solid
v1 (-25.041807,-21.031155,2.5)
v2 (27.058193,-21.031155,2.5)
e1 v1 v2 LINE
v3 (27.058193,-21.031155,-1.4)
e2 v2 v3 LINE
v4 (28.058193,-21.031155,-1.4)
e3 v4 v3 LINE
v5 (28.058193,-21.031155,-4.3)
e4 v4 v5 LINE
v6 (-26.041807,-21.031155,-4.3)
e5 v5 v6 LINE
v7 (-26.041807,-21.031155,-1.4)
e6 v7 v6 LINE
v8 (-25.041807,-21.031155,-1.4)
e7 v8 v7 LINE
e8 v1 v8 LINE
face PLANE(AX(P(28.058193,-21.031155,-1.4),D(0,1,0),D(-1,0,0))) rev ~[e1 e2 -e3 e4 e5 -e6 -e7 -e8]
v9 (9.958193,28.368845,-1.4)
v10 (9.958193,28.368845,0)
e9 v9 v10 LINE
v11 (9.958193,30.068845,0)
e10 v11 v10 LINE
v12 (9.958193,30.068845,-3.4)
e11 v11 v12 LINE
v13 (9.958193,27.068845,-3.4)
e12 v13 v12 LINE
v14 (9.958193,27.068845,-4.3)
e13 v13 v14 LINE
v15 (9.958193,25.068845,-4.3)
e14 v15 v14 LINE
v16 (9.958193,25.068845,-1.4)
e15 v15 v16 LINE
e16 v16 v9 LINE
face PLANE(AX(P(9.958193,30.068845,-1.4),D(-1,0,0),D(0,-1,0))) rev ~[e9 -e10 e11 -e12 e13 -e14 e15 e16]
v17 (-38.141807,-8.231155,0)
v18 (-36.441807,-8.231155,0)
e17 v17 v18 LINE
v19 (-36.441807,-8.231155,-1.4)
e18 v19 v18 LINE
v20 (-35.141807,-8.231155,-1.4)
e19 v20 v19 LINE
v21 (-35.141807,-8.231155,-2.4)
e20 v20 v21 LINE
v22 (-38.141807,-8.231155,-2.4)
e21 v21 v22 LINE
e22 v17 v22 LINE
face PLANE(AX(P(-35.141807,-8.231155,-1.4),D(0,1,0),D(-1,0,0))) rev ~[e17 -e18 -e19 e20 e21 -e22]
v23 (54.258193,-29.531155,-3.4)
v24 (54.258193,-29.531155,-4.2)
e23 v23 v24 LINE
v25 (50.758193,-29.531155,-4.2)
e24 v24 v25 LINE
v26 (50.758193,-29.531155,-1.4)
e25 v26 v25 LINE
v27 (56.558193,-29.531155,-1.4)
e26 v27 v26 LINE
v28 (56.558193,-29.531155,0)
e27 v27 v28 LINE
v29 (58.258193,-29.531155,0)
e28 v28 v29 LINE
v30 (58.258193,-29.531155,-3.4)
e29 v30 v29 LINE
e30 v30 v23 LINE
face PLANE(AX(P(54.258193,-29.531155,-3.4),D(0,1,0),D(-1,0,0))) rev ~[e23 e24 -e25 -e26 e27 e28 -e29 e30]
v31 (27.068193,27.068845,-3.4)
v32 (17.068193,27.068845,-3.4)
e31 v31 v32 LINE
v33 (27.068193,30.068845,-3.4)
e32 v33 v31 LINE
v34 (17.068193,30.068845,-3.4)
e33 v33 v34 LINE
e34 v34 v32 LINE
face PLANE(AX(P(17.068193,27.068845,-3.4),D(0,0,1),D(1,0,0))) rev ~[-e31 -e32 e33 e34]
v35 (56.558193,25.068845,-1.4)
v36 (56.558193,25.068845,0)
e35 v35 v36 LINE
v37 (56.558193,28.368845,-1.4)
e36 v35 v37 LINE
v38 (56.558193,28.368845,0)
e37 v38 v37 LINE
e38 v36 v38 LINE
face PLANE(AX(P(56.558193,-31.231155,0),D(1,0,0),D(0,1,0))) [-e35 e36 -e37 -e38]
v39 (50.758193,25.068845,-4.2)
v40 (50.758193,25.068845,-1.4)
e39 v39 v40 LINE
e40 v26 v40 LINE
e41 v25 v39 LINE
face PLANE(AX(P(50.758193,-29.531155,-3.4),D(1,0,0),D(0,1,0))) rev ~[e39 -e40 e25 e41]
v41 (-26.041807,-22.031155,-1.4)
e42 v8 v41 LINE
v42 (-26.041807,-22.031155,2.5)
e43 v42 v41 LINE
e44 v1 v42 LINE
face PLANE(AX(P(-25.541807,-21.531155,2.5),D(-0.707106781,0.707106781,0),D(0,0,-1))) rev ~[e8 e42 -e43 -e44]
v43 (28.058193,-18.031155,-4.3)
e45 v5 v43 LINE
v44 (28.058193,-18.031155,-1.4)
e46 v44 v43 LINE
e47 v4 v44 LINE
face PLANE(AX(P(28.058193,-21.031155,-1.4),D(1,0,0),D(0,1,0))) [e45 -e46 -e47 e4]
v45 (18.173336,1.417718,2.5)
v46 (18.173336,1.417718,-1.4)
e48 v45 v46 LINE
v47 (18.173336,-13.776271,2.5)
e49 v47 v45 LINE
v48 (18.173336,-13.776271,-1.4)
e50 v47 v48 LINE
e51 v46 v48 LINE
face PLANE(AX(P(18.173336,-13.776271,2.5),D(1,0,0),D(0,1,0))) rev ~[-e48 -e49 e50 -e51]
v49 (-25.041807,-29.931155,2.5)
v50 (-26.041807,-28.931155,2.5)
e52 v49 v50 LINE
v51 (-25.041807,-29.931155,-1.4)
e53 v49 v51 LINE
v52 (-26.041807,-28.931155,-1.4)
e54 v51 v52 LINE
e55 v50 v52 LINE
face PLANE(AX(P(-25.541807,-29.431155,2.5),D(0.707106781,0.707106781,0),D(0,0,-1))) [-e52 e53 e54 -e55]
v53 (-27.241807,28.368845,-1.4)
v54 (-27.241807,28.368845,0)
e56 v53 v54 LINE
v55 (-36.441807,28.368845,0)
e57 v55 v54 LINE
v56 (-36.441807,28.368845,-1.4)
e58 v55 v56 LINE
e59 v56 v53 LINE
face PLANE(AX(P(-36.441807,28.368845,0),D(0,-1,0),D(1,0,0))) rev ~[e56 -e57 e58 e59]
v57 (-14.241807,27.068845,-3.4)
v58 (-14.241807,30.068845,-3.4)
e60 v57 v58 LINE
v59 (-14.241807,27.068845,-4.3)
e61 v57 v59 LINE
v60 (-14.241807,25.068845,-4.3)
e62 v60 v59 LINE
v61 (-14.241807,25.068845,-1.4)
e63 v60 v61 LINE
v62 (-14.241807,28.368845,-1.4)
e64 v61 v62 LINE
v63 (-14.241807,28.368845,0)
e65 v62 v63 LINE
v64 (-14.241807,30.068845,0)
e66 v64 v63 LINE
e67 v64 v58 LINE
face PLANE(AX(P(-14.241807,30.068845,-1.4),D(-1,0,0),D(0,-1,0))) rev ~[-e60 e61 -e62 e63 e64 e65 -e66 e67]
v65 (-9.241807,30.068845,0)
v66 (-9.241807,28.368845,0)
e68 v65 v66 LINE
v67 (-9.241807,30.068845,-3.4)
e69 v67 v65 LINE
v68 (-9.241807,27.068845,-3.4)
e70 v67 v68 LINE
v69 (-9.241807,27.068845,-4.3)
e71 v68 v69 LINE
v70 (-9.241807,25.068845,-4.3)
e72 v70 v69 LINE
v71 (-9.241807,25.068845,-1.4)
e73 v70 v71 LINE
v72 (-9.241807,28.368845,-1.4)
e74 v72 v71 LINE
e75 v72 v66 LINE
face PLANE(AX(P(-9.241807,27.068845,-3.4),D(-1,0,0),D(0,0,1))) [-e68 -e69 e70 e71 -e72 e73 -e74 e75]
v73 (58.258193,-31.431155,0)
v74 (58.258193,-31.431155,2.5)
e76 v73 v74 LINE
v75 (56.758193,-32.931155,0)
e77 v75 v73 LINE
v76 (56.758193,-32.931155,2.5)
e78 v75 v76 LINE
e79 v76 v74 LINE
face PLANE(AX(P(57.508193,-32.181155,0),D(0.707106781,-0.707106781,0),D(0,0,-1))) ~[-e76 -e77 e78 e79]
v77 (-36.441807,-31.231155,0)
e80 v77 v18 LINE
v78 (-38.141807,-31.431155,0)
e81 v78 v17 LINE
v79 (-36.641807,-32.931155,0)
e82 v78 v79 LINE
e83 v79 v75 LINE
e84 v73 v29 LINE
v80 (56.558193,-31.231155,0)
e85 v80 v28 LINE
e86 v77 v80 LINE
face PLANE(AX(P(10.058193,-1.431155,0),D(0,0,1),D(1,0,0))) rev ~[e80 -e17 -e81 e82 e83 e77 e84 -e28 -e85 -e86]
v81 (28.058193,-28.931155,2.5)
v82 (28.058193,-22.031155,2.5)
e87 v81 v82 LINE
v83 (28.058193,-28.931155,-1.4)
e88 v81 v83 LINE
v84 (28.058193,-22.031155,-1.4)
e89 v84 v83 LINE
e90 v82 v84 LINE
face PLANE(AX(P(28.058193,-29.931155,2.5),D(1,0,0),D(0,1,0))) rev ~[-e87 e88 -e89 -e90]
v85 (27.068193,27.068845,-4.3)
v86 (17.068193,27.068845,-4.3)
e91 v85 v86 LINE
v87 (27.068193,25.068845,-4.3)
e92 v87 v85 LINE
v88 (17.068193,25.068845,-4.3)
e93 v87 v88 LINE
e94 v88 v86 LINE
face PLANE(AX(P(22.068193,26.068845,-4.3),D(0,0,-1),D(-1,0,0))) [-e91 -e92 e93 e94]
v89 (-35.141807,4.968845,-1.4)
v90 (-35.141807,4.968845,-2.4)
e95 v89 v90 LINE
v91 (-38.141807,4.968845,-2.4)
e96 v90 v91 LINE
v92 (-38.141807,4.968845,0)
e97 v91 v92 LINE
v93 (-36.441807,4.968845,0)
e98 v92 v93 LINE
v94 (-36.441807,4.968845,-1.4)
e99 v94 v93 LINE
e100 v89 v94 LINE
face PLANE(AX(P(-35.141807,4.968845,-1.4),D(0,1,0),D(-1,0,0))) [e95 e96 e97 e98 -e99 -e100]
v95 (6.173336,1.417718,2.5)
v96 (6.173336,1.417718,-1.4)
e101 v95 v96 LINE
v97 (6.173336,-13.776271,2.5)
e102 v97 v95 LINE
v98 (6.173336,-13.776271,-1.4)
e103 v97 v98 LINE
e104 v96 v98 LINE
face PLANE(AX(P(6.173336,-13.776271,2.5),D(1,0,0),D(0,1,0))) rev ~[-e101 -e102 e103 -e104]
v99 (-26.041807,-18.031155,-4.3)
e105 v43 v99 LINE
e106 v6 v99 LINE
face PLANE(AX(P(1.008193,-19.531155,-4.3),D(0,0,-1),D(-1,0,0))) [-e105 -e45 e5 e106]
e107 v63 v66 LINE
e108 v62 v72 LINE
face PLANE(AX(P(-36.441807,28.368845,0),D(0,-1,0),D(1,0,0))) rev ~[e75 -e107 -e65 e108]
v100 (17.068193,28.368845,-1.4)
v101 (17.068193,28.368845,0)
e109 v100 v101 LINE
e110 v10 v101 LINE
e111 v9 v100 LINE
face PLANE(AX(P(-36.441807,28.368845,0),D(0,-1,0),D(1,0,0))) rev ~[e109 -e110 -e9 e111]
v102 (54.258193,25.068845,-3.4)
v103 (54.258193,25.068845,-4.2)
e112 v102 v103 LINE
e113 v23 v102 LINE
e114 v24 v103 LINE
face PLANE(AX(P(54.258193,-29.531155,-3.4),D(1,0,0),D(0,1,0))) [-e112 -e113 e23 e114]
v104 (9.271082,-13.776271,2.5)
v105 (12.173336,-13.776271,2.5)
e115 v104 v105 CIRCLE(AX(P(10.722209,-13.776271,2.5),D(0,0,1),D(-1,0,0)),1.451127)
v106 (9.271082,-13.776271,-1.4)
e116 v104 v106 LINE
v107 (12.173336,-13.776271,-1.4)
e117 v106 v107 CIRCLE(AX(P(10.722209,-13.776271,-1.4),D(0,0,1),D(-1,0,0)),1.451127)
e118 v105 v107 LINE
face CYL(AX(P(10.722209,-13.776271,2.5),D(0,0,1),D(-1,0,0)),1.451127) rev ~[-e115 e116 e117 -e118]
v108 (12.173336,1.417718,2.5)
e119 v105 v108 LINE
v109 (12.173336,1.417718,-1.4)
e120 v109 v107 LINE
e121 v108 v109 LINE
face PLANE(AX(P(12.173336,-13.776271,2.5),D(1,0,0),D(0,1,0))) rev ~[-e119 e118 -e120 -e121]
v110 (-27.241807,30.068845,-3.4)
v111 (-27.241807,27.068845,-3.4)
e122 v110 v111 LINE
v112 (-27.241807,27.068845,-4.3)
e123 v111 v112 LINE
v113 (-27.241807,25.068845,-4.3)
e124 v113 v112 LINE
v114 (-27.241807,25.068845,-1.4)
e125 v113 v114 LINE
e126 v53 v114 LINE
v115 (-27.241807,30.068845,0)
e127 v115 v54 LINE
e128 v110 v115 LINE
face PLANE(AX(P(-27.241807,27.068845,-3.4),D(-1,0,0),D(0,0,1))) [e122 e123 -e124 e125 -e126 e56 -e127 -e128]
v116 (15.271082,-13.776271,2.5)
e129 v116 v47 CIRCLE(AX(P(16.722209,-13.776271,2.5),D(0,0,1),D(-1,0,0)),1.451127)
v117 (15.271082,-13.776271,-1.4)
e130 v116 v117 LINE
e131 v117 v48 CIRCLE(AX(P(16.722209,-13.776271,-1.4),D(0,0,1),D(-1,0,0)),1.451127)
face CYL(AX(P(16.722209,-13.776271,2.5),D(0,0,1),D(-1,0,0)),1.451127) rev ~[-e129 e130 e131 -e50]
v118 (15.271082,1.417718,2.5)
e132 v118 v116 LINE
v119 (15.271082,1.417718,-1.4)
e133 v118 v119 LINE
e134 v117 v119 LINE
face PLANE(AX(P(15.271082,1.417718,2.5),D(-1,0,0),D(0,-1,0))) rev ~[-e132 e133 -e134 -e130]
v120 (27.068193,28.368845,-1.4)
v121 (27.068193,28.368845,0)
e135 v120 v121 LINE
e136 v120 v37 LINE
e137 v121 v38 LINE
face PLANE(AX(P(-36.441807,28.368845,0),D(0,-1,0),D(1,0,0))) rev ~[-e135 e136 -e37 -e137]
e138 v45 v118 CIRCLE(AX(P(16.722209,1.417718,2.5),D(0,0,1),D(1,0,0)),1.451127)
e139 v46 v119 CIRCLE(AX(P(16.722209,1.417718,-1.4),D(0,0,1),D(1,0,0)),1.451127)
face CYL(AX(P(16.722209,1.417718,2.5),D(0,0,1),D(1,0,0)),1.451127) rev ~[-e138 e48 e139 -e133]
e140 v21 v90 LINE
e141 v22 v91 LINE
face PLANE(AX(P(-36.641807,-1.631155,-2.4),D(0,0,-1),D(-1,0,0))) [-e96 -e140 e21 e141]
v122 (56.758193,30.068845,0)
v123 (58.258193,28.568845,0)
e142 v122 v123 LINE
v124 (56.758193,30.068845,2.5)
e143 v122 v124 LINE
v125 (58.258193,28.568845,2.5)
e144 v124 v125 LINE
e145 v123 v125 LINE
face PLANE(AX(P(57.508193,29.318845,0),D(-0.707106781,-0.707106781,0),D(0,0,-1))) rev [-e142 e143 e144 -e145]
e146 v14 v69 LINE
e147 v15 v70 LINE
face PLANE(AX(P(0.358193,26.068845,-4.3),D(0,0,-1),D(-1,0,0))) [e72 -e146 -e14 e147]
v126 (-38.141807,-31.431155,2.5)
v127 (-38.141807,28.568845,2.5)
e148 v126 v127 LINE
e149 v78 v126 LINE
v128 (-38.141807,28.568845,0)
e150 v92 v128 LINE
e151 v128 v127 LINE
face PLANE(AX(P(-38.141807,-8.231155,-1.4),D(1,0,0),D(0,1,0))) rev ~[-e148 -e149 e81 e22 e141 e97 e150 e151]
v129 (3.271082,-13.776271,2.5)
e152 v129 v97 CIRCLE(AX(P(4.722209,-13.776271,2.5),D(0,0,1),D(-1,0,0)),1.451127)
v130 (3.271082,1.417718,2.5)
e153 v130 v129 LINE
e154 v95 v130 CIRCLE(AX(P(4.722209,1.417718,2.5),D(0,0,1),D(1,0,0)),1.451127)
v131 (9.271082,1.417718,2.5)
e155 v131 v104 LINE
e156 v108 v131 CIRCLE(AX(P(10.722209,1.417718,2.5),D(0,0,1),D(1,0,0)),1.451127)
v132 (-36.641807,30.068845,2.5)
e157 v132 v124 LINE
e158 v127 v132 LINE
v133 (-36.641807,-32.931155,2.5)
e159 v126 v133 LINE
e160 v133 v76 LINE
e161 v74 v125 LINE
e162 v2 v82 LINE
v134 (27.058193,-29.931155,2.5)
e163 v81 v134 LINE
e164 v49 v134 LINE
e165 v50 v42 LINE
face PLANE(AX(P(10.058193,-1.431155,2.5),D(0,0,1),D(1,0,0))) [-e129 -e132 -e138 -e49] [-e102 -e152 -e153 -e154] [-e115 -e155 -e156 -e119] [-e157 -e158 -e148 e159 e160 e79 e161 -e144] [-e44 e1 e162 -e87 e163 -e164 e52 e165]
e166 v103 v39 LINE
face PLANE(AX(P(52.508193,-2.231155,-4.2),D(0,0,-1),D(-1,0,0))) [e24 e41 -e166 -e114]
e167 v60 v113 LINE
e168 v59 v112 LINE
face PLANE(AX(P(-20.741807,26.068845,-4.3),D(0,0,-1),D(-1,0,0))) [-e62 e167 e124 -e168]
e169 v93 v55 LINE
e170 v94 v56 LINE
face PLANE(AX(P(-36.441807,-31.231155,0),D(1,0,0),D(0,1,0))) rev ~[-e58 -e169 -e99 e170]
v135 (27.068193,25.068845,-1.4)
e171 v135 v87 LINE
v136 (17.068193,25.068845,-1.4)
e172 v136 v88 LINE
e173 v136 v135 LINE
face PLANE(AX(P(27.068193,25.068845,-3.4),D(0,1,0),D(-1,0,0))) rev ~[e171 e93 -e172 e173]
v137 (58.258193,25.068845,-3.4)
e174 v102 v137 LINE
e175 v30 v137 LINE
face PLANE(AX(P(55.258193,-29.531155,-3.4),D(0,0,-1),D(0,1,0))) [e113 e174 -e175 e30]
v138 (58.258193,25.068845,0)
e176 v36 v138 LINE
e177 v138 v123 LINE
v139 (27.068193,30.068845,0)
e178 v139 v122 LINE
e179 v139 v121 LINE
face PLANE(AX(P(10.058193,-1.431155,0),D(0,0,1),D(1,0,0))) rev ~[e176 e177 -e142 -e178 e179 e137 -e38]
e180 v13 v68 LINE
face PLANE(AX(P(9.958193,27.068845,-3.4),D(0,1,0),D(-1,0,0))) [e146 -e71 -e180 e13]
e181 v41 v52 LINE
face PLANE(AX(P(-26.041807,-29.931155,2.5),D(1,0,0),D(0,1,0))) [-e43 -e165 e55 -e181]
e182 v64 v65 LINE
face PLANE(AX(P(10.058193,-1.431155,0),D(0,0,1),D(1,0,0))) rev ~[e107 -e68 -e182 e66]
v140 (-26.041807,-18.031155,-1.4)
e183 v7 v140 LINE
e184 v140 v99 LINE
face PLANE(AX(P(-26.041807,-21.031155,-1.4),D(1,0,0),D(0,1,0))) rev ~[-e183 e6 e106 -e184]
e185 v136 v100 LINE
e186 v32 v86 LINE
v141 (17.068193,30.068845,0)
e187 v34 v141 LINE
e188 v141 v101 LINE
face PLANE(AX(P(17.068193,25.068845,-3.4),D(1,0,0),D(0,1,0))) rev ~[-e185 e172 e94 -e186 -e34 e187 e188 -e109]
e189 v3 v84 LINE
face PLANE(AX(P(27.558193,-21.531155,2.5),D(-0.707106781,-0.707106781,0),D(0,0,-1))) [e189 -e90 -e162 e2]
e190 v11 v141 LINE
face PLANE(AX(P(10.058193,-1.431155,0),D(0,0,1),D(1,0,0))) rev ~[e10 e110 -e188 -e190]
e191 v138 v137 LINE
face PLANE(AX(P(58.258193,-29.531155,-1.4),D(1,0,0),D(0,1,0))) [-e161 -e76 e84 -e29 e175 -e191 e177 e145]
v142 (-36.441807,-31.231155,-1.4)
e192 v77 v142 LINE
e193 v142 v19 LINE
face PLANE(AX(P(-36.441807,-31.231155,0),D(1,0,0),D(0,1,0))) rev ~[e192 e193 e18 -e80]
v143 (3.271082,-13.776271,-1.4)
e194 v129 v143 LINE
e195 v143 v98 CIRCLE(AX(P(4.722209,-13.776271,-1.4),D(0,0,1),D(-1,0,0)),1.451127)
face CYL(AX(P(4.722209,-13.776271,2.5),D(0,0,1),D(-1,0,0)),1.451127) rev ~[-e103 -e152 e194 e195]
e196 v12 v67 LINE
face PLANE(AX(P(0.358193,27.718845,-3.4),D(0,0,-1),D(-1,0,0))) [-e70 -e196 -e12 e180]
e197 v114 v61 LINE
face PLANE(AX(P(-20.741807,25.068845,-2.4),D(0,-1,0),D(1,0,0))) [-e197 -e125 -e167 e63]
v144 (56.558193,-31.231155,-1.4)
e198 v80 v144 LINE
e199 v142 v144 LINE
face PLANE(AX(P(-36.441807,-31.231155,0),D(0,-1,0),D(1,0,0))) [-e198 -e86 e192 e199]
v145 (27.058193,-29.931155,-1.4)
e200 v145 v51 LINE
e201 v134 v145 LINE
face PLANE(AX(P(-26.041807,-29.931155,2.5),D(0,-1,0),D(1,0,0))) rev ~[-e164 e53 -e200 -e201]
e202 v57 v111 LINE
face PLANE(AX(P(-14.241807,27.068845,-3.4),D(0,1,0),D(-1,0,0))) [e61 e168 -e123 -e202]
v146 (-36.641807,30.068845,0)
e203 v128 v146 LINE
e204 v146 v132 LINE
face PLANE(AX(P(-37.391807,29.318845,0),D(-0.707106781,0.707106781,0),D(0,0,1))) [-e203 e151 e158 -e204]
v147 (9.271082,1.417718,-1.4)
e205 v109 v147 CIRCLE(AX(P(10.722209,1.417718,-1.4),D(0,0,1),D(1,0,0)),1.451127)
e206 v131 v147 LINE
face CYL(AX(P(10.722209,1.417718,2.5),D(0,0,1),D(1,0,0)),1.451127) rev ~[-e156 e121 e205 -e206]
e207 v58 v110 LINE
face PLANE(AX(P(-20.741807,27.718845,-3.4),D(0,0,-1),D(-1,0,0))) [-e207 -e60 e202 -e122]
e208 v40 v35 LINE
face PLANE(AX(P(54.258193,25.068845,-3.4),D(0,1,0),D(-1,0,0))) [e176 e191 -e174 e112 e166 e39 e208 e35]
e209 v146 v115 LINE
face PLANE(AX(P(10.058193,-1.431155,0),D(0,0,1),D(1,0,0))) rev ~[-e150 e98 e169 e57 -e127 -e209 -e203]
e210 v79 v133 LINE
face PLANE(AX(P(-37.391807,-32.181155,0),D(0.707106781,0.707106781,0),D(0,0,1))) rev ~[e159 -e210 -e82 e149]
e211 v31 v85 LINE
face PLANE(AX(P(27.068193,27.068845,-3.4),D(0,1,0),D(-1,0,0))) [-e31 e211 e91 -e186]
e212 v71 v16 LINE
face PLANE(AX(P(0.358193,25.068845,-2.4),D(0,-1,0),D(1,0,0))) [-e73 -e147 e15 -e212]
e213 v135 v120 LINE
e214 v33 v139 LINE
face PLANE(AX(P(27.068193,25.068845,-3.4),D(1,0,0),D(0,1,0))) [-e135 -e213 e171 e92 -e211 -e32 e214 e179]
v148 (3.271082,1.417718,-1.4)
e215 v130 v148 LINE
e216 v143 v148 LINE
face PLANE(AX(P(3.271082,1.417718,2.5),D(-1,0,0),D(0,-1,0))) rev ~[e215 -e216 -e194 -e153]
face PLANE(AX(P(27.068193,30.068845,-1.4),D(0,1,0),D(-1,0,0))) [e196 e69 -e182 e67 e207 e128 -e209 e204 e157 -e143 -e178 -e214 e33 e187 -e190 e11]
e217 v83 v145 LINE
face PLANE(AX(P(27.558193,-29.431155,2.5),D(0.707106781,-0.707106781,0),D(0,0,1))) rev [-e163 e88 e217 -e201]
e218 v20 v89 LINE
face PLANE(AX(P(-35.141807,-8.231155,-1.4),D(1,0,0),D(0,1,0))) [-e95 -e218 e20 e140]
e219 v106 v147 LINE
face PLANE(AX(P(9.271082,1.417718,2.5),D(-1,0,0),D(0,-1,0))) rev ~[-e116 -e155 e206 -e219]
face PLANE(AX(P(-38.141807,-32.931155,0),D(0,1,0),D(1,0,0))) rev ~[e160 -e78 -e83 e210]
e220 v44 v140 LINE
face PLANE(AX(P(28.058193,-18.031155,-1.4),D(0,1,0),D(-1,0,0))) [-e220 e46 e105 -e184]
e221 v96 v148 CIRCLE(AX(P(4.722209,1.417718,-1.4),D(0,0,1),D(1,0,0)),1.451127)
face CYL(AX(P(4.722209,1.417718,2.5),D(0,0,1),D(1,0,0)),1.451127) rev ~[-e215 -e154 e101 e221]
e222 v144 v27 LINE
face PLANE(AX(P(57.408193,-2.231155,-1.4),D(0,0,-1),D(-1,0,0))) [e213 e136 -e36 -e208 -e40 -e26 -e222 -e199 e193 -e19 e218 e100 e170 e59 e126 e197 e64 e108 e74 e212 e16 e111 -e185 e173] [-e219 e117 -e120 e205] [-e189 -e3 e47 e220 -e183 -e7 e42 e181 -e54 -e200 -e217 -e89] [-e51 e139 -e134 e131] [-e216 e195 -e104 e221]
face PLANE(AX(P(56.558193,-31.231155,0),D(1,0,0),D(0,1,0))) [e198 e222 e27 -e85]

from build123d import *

# Parameters (mm, degrees)
SKETCH1_W            = 96.4
SKETCH1_H            = 63
BOSS_EXTRUDE1_DEPTH  = 2.5
SKETCH1_5_W          = 93
SKETCH1_5_H          = 59.6
BOSS_EXTRUDE2_DEPTH  = 1.4
CHAMFER1_SIZE        = 1.5
SKETCH3_W            = 1.7
SKETCH3_H            = 13.2
BOSS_EXTRUDE4_DEPTH  = 1.7
SKETCH4_W            = 13
SKETCH4_H            = 1.7
SKETCH4_W_2          = 10
SKETCH4_W_3          = 19.2
BOSS_EXTRUDE5_DEPTH  = 1.6
SKETCH4_3_W          = 13
SKETCH4_3_H          = 3
SKETCH4_3_W_2        = 10
SKETCH4_3_W_3        = 19.2
BOSS_EXTRUDE6_DEPTH  = 2
SKETCH3_5_W          = 3
SKETCH3_5_H          = 13.2
BOSS_EXTRUDE7_DEPTH  = 1
SKETCH5_W            = 1.7
SKETCH5_H            = 54.6
BOSS_EXTRUDE8_DEPTH  = 1.6
SKETCH5_3_W          = 3
SKETCH5_3_H          = 54.6
BOSS_EXTRUDE9_DEPTH  = 2
SKETCH7_W            = 54.1
SKETCH7_H            = 8.9
CUT_EXTRUDE2_DEPTH   = 12
CHAMFER2_SIZE        = 1
SKETCH11_W           = 10
SKETCH11_H           = 2
SKETCH11_W_2         = 19.2
SKETCH11_W_3         = 13
BOSS_EXTRUDE10_DEPTH = 2
SKETCH13_W           = 10
SKETCH13_H           = 2
SKETCH13_W_2         = 19.2
SKETCH13_W_3         = 13
BOSS_EXTRUDE12_DEPTH = 0.9
SKETCH14_W           = 54.1
SKETCH14_H           = 3
BOSS_EXTRUDE13_DEPTH = 2.9
SKETCH15_W           = 2
SKETCH15_H           = 54.6
BOSS_EXTRUDE14_DEPTH = 4.5
SKETCH16_W           = 3.5
SKETCH16_H           = 54.6
BOSS_EXTRUDE15_DEPTH = 0.8
CUT_EXTRUDE3_DEPTH   = 10


with BuildPart() as part:
    # Sketch1 → Boss-Extrude1 (new body)
    with BuildSketch(Plane.XY):
        with Locations((10.058192988, -1.431154761)):
            Rectangle(SKETCH1_W, SKETCH1_H)
    extrude(amount=BOSS_EXTRUDE1_DEPTH)

    # Sketch1<5> → Boss-Extrude2 (add)
    with BuildSketch(Plane.XY):
        with Locations((10.058192988, -1.431154761)):
            Rectangle(SKETCH1_5_W, SKETCH1_5_H)
    extrude(amount=-BOSS_EXTRUDE2_DEPTH)

    # Chamfer1
    chamfer1_edges = [part.edges().sort_by_distance(p)[0] for p in [
        (58.258192988, 30.068845239, 1.25),
        (-38.141807012, 30.068845239, 1.25),
        (-38.141807012, -32.931154761, 1.25),
        (58.258192988, -32.931154761, 1.25),
    ]]
    chamfer(chamfer1_edges, length=CHAMFER1_SIZE)

    # Sketch3 → Boss-Extrude4 (add)
    with BuildSketch(Plane(origin=(0, 0, -1.4), x_dir=(-1, 0, 0), z_dir=(0, 0, -1))):
        with Locations((37.291807012, -1.631154761)):
            Rectangle(SKETCH3_W, SKETCH3_H)
    extrude(amount=-BOSS_EXTRUDE4_DEPTH)

    # Sketch4 → Boss-Extrude5 (add)
    with BuildSketch(Plane(origin=(0, 0, -1.4), x_dir=(-1, 0, 0), z_dir=(0, 0, -1))):
        with Locations((20.741807012, 29.218845239)):
            Rectangle(SKETCH4_W, SKETCH4_H)
        with Locations((-22.068192988, 29.218845239)):
            Rectangle(SKETCH4_W_2, SKETCH4_H)
        with Locations((-0.358192988, 29.218845239)):
            Rectangle(SKETCH4_W_3, SKETCH4_H)
    extrude(amount=-BOSS_EXTRUDE5_DEPTH)

    # Sketch4<3> → Boss-Extrude6 (add)
    with BuildSketch(Plane(origin=(0, 0, -1.4), x_dir=(-1, 0, 0), z_dir=(0, 0, -1))):
        with Locations((20.741807012, 28.568845239)):
            Rectangle(SKETCH4_3_W, SKETCH4_3_H)
        with Locations((-22.068192988, 28.568845239)):
            Rectangle(SKETCH4_3_W_2, SKETCH4_3_H)
        with Locations((-0.358192988, 28.568845239)):
            Rectangle(SKETCH4_3_W_3, SKETCH4_3_H)
    extrude(amount=BOSS_EXTRUDE6_DEPTH)

    # Sketch3<5> → Boss-Extrude7 (add)
    with BuildSketch(Plane(origin=(0, 0, -1.4), x_dir=(-1, 0, 0), z_dir=(0, 0, -1))):
        with Locations((36.641807012, -1.631154761)):
            Rectangle(SKETCH3_5_W, SKETCH3_5_H)
    extrude(amount=BOSS_EXTRUDE7_DEPTH)

    # Sketch5 → Boss-Extrude8 (add)
    with BuildSketch(Plane(origin=(0, 0, -1.4), x_dir=(-1, 0, 0), z_dir=(0, 0, -1))):
        with Locations((-57.408192988, -2.231154761)):
            Rectangle(SKETCH5_W, SKETCH5_H)
    extrude(amount=-BOSS_EXTRUDE8_DEPTH)

    # Sketch5<3> → Boss-Extrude9 (add)
    with BuildSketch(Plane(origin=(0, 0, -1.4), x_dir=(-1, 0, 0), z_dir=(0, 0, -1))):
        with Locations((-56.758192988, -2.231154761)):
            Rectangle(SKETCH5_3_W, SKETCH5_3_H)
    extrude(amount=BOSS_EXTRUDE9_DEPTH)

    # Sketch7 → Cut-Extrude2 (cut)
    with BuildSketch(Plane.XY.offset(2.5)):
        with Locations((1.008192988, -25.481154761)):
            Rectangle(SKETCH7_W, SKETCH7_H)
    extrude(amount=-CUT_EXTRUDE2_DEPTH, mode=Mode.SUBTRACT)

    # Chamfer2
    chamfer2_edges = [part.edges().sort_by_distance(p)[0] for p in [
        (28.058192988, -21.031154761, 0.55),
        (28.058192988, -29.931154761, 0.55),
        (-26.041807012, -29.931154761, 0.55),
        (-26.041807012, -21.031154761, 0.55),
    ]]
    chamfer(chamfer2_edges, length=CHAMFER2_SIZE)

    # Sketch11 → Boss-Extrude10 (add)
    with BuildSketch(Plane.XZ.offset(-27.068845239)):
        with Locations((22.068192988, -2.4)):
            Rectangle(SKETCH11_W, SKETCH11_H)
        with Locations((0.358192988, -2.4)):
            Rectangle(SKETCH11_W_2, SKETCH11_H)
        with Locations((-20.741807012, -2.4)):
            Rectangle(SKETCH11_W_3, SKETCH11_H)
    extrude(amount=BOSS_EXTRUDE10_DEPTH)

    # Sketch13 → Boss-Extrude12 (add)
    with BuildSketch(Plane(origin=(0, 0, -3.4), x_dir=(-1, 0, 0), z_dir=(0, 0, -1))):
        with Locations((-22.068192988, 26.068845239)):
            Rectangle(SKETCH13_W, SKETCH13_H)
        with Locations((-0.358192988, 26.068845239)):
            Rectangle(SKETCH13_W_2, SKETCH13_H)
        with Locations((20.741807012, 26.068845239)):
            Rectangle(SKETCH13_W_3, SKETCH13_H)
    extrude(amount=BOSS_EXTRUDE12_DEPTH)

    # Sketch14 → Boss-Extrude13 (add)
    with BuildSketch(Plane(origin=(0, 0, -1.4), x_dir=(-1, 0, 0), z_dir=(0, 0, -1))):
        with Locations((-1.008192988, -19.531154761)):
            Rectangle(SKETCH14_W, SKETCH14_H)
    extrude(amount=BOSS_EXTRUDE13_DEPTH)

    # Sketch15 → Boss-Extrude14 (add)
    with BuildSketch(Plane.ZY.offset(-55.258192988)):
        with Locations((-2.4, -2.231154761)):
            Rectangle(SKETCH15_W, SKETCH15_H)
    extrude(amount=BOSS_EXTRUDE14_DEPTH)

    # Sketch16 → Boss-Extrude15 (add)
    with BuildSketch(Plane(origin=(0, 0, -3.4), x_dir=(-1, 0, 0), z_dir=(0, 0, -1))):
        with Locations((-52.508192988, -2.231154761)):
            Rectangle(SKETCH16_W, SKETCH16_H)
    extrude(amount=BOSS_EXTRUDE15_DEPTH)

    # Sketch17 → Cut-Extrude3 (cut)
    with BuildSketch(Plane.XY.offset(2.5)):
        with BuildLine():
            Line((6.173335738, -13.776270945), (6.173335738, 1.417718204))
            ThreePointArc((6.173335738, 1.417718204), (4.722208704, 2.868845239), (3.271081669, 1.417718204))
            Line((3.271081669, 1.417718204), (3.271081669, -13.776270945))
            ThreePointArc((3.271081669, -13.776270945), (4.722208704, -15.227397979), (6.173335738, -13.776270945))
        make_face()
        with BuildLine():
            Line((12.173335738, -13.776270945), (12.173335738, 1.417718204))
            ThreePointArc((12.173335738, 1.417718204), (10.722208704, 2.868845239), (9.271081669, 1.417718204))
            Line((9.271081669, 1.417718204), (9.271081669, -13.776270945))
            ThreePointArc((9.271081669, -13.776270945), (10.722208704, -15.227397979), (12.173335738, -13.776270945))
        make_face()
        with BuildLine():
            Line((18.173335738, -13.776270945), (18.173335738, 1.417718204))
            ThreePointArc((18.173335738, 1.417718204), (16.722208704, 2.868845239), (15.271081669, 1.417718204))
            Line((15.271081669, 1.417718204), (15.271081669, -13.776270945))
            ThreePointArc((15.271081669, -13.776270945), (16.722208704, -15.227397979), (18.173335738, -13.776270945))
        make_face()
    extrude(amount=-CUT_EXTRUDE3_DEPTH, mode=Mode.SUBTRACT)


solid = part.part
